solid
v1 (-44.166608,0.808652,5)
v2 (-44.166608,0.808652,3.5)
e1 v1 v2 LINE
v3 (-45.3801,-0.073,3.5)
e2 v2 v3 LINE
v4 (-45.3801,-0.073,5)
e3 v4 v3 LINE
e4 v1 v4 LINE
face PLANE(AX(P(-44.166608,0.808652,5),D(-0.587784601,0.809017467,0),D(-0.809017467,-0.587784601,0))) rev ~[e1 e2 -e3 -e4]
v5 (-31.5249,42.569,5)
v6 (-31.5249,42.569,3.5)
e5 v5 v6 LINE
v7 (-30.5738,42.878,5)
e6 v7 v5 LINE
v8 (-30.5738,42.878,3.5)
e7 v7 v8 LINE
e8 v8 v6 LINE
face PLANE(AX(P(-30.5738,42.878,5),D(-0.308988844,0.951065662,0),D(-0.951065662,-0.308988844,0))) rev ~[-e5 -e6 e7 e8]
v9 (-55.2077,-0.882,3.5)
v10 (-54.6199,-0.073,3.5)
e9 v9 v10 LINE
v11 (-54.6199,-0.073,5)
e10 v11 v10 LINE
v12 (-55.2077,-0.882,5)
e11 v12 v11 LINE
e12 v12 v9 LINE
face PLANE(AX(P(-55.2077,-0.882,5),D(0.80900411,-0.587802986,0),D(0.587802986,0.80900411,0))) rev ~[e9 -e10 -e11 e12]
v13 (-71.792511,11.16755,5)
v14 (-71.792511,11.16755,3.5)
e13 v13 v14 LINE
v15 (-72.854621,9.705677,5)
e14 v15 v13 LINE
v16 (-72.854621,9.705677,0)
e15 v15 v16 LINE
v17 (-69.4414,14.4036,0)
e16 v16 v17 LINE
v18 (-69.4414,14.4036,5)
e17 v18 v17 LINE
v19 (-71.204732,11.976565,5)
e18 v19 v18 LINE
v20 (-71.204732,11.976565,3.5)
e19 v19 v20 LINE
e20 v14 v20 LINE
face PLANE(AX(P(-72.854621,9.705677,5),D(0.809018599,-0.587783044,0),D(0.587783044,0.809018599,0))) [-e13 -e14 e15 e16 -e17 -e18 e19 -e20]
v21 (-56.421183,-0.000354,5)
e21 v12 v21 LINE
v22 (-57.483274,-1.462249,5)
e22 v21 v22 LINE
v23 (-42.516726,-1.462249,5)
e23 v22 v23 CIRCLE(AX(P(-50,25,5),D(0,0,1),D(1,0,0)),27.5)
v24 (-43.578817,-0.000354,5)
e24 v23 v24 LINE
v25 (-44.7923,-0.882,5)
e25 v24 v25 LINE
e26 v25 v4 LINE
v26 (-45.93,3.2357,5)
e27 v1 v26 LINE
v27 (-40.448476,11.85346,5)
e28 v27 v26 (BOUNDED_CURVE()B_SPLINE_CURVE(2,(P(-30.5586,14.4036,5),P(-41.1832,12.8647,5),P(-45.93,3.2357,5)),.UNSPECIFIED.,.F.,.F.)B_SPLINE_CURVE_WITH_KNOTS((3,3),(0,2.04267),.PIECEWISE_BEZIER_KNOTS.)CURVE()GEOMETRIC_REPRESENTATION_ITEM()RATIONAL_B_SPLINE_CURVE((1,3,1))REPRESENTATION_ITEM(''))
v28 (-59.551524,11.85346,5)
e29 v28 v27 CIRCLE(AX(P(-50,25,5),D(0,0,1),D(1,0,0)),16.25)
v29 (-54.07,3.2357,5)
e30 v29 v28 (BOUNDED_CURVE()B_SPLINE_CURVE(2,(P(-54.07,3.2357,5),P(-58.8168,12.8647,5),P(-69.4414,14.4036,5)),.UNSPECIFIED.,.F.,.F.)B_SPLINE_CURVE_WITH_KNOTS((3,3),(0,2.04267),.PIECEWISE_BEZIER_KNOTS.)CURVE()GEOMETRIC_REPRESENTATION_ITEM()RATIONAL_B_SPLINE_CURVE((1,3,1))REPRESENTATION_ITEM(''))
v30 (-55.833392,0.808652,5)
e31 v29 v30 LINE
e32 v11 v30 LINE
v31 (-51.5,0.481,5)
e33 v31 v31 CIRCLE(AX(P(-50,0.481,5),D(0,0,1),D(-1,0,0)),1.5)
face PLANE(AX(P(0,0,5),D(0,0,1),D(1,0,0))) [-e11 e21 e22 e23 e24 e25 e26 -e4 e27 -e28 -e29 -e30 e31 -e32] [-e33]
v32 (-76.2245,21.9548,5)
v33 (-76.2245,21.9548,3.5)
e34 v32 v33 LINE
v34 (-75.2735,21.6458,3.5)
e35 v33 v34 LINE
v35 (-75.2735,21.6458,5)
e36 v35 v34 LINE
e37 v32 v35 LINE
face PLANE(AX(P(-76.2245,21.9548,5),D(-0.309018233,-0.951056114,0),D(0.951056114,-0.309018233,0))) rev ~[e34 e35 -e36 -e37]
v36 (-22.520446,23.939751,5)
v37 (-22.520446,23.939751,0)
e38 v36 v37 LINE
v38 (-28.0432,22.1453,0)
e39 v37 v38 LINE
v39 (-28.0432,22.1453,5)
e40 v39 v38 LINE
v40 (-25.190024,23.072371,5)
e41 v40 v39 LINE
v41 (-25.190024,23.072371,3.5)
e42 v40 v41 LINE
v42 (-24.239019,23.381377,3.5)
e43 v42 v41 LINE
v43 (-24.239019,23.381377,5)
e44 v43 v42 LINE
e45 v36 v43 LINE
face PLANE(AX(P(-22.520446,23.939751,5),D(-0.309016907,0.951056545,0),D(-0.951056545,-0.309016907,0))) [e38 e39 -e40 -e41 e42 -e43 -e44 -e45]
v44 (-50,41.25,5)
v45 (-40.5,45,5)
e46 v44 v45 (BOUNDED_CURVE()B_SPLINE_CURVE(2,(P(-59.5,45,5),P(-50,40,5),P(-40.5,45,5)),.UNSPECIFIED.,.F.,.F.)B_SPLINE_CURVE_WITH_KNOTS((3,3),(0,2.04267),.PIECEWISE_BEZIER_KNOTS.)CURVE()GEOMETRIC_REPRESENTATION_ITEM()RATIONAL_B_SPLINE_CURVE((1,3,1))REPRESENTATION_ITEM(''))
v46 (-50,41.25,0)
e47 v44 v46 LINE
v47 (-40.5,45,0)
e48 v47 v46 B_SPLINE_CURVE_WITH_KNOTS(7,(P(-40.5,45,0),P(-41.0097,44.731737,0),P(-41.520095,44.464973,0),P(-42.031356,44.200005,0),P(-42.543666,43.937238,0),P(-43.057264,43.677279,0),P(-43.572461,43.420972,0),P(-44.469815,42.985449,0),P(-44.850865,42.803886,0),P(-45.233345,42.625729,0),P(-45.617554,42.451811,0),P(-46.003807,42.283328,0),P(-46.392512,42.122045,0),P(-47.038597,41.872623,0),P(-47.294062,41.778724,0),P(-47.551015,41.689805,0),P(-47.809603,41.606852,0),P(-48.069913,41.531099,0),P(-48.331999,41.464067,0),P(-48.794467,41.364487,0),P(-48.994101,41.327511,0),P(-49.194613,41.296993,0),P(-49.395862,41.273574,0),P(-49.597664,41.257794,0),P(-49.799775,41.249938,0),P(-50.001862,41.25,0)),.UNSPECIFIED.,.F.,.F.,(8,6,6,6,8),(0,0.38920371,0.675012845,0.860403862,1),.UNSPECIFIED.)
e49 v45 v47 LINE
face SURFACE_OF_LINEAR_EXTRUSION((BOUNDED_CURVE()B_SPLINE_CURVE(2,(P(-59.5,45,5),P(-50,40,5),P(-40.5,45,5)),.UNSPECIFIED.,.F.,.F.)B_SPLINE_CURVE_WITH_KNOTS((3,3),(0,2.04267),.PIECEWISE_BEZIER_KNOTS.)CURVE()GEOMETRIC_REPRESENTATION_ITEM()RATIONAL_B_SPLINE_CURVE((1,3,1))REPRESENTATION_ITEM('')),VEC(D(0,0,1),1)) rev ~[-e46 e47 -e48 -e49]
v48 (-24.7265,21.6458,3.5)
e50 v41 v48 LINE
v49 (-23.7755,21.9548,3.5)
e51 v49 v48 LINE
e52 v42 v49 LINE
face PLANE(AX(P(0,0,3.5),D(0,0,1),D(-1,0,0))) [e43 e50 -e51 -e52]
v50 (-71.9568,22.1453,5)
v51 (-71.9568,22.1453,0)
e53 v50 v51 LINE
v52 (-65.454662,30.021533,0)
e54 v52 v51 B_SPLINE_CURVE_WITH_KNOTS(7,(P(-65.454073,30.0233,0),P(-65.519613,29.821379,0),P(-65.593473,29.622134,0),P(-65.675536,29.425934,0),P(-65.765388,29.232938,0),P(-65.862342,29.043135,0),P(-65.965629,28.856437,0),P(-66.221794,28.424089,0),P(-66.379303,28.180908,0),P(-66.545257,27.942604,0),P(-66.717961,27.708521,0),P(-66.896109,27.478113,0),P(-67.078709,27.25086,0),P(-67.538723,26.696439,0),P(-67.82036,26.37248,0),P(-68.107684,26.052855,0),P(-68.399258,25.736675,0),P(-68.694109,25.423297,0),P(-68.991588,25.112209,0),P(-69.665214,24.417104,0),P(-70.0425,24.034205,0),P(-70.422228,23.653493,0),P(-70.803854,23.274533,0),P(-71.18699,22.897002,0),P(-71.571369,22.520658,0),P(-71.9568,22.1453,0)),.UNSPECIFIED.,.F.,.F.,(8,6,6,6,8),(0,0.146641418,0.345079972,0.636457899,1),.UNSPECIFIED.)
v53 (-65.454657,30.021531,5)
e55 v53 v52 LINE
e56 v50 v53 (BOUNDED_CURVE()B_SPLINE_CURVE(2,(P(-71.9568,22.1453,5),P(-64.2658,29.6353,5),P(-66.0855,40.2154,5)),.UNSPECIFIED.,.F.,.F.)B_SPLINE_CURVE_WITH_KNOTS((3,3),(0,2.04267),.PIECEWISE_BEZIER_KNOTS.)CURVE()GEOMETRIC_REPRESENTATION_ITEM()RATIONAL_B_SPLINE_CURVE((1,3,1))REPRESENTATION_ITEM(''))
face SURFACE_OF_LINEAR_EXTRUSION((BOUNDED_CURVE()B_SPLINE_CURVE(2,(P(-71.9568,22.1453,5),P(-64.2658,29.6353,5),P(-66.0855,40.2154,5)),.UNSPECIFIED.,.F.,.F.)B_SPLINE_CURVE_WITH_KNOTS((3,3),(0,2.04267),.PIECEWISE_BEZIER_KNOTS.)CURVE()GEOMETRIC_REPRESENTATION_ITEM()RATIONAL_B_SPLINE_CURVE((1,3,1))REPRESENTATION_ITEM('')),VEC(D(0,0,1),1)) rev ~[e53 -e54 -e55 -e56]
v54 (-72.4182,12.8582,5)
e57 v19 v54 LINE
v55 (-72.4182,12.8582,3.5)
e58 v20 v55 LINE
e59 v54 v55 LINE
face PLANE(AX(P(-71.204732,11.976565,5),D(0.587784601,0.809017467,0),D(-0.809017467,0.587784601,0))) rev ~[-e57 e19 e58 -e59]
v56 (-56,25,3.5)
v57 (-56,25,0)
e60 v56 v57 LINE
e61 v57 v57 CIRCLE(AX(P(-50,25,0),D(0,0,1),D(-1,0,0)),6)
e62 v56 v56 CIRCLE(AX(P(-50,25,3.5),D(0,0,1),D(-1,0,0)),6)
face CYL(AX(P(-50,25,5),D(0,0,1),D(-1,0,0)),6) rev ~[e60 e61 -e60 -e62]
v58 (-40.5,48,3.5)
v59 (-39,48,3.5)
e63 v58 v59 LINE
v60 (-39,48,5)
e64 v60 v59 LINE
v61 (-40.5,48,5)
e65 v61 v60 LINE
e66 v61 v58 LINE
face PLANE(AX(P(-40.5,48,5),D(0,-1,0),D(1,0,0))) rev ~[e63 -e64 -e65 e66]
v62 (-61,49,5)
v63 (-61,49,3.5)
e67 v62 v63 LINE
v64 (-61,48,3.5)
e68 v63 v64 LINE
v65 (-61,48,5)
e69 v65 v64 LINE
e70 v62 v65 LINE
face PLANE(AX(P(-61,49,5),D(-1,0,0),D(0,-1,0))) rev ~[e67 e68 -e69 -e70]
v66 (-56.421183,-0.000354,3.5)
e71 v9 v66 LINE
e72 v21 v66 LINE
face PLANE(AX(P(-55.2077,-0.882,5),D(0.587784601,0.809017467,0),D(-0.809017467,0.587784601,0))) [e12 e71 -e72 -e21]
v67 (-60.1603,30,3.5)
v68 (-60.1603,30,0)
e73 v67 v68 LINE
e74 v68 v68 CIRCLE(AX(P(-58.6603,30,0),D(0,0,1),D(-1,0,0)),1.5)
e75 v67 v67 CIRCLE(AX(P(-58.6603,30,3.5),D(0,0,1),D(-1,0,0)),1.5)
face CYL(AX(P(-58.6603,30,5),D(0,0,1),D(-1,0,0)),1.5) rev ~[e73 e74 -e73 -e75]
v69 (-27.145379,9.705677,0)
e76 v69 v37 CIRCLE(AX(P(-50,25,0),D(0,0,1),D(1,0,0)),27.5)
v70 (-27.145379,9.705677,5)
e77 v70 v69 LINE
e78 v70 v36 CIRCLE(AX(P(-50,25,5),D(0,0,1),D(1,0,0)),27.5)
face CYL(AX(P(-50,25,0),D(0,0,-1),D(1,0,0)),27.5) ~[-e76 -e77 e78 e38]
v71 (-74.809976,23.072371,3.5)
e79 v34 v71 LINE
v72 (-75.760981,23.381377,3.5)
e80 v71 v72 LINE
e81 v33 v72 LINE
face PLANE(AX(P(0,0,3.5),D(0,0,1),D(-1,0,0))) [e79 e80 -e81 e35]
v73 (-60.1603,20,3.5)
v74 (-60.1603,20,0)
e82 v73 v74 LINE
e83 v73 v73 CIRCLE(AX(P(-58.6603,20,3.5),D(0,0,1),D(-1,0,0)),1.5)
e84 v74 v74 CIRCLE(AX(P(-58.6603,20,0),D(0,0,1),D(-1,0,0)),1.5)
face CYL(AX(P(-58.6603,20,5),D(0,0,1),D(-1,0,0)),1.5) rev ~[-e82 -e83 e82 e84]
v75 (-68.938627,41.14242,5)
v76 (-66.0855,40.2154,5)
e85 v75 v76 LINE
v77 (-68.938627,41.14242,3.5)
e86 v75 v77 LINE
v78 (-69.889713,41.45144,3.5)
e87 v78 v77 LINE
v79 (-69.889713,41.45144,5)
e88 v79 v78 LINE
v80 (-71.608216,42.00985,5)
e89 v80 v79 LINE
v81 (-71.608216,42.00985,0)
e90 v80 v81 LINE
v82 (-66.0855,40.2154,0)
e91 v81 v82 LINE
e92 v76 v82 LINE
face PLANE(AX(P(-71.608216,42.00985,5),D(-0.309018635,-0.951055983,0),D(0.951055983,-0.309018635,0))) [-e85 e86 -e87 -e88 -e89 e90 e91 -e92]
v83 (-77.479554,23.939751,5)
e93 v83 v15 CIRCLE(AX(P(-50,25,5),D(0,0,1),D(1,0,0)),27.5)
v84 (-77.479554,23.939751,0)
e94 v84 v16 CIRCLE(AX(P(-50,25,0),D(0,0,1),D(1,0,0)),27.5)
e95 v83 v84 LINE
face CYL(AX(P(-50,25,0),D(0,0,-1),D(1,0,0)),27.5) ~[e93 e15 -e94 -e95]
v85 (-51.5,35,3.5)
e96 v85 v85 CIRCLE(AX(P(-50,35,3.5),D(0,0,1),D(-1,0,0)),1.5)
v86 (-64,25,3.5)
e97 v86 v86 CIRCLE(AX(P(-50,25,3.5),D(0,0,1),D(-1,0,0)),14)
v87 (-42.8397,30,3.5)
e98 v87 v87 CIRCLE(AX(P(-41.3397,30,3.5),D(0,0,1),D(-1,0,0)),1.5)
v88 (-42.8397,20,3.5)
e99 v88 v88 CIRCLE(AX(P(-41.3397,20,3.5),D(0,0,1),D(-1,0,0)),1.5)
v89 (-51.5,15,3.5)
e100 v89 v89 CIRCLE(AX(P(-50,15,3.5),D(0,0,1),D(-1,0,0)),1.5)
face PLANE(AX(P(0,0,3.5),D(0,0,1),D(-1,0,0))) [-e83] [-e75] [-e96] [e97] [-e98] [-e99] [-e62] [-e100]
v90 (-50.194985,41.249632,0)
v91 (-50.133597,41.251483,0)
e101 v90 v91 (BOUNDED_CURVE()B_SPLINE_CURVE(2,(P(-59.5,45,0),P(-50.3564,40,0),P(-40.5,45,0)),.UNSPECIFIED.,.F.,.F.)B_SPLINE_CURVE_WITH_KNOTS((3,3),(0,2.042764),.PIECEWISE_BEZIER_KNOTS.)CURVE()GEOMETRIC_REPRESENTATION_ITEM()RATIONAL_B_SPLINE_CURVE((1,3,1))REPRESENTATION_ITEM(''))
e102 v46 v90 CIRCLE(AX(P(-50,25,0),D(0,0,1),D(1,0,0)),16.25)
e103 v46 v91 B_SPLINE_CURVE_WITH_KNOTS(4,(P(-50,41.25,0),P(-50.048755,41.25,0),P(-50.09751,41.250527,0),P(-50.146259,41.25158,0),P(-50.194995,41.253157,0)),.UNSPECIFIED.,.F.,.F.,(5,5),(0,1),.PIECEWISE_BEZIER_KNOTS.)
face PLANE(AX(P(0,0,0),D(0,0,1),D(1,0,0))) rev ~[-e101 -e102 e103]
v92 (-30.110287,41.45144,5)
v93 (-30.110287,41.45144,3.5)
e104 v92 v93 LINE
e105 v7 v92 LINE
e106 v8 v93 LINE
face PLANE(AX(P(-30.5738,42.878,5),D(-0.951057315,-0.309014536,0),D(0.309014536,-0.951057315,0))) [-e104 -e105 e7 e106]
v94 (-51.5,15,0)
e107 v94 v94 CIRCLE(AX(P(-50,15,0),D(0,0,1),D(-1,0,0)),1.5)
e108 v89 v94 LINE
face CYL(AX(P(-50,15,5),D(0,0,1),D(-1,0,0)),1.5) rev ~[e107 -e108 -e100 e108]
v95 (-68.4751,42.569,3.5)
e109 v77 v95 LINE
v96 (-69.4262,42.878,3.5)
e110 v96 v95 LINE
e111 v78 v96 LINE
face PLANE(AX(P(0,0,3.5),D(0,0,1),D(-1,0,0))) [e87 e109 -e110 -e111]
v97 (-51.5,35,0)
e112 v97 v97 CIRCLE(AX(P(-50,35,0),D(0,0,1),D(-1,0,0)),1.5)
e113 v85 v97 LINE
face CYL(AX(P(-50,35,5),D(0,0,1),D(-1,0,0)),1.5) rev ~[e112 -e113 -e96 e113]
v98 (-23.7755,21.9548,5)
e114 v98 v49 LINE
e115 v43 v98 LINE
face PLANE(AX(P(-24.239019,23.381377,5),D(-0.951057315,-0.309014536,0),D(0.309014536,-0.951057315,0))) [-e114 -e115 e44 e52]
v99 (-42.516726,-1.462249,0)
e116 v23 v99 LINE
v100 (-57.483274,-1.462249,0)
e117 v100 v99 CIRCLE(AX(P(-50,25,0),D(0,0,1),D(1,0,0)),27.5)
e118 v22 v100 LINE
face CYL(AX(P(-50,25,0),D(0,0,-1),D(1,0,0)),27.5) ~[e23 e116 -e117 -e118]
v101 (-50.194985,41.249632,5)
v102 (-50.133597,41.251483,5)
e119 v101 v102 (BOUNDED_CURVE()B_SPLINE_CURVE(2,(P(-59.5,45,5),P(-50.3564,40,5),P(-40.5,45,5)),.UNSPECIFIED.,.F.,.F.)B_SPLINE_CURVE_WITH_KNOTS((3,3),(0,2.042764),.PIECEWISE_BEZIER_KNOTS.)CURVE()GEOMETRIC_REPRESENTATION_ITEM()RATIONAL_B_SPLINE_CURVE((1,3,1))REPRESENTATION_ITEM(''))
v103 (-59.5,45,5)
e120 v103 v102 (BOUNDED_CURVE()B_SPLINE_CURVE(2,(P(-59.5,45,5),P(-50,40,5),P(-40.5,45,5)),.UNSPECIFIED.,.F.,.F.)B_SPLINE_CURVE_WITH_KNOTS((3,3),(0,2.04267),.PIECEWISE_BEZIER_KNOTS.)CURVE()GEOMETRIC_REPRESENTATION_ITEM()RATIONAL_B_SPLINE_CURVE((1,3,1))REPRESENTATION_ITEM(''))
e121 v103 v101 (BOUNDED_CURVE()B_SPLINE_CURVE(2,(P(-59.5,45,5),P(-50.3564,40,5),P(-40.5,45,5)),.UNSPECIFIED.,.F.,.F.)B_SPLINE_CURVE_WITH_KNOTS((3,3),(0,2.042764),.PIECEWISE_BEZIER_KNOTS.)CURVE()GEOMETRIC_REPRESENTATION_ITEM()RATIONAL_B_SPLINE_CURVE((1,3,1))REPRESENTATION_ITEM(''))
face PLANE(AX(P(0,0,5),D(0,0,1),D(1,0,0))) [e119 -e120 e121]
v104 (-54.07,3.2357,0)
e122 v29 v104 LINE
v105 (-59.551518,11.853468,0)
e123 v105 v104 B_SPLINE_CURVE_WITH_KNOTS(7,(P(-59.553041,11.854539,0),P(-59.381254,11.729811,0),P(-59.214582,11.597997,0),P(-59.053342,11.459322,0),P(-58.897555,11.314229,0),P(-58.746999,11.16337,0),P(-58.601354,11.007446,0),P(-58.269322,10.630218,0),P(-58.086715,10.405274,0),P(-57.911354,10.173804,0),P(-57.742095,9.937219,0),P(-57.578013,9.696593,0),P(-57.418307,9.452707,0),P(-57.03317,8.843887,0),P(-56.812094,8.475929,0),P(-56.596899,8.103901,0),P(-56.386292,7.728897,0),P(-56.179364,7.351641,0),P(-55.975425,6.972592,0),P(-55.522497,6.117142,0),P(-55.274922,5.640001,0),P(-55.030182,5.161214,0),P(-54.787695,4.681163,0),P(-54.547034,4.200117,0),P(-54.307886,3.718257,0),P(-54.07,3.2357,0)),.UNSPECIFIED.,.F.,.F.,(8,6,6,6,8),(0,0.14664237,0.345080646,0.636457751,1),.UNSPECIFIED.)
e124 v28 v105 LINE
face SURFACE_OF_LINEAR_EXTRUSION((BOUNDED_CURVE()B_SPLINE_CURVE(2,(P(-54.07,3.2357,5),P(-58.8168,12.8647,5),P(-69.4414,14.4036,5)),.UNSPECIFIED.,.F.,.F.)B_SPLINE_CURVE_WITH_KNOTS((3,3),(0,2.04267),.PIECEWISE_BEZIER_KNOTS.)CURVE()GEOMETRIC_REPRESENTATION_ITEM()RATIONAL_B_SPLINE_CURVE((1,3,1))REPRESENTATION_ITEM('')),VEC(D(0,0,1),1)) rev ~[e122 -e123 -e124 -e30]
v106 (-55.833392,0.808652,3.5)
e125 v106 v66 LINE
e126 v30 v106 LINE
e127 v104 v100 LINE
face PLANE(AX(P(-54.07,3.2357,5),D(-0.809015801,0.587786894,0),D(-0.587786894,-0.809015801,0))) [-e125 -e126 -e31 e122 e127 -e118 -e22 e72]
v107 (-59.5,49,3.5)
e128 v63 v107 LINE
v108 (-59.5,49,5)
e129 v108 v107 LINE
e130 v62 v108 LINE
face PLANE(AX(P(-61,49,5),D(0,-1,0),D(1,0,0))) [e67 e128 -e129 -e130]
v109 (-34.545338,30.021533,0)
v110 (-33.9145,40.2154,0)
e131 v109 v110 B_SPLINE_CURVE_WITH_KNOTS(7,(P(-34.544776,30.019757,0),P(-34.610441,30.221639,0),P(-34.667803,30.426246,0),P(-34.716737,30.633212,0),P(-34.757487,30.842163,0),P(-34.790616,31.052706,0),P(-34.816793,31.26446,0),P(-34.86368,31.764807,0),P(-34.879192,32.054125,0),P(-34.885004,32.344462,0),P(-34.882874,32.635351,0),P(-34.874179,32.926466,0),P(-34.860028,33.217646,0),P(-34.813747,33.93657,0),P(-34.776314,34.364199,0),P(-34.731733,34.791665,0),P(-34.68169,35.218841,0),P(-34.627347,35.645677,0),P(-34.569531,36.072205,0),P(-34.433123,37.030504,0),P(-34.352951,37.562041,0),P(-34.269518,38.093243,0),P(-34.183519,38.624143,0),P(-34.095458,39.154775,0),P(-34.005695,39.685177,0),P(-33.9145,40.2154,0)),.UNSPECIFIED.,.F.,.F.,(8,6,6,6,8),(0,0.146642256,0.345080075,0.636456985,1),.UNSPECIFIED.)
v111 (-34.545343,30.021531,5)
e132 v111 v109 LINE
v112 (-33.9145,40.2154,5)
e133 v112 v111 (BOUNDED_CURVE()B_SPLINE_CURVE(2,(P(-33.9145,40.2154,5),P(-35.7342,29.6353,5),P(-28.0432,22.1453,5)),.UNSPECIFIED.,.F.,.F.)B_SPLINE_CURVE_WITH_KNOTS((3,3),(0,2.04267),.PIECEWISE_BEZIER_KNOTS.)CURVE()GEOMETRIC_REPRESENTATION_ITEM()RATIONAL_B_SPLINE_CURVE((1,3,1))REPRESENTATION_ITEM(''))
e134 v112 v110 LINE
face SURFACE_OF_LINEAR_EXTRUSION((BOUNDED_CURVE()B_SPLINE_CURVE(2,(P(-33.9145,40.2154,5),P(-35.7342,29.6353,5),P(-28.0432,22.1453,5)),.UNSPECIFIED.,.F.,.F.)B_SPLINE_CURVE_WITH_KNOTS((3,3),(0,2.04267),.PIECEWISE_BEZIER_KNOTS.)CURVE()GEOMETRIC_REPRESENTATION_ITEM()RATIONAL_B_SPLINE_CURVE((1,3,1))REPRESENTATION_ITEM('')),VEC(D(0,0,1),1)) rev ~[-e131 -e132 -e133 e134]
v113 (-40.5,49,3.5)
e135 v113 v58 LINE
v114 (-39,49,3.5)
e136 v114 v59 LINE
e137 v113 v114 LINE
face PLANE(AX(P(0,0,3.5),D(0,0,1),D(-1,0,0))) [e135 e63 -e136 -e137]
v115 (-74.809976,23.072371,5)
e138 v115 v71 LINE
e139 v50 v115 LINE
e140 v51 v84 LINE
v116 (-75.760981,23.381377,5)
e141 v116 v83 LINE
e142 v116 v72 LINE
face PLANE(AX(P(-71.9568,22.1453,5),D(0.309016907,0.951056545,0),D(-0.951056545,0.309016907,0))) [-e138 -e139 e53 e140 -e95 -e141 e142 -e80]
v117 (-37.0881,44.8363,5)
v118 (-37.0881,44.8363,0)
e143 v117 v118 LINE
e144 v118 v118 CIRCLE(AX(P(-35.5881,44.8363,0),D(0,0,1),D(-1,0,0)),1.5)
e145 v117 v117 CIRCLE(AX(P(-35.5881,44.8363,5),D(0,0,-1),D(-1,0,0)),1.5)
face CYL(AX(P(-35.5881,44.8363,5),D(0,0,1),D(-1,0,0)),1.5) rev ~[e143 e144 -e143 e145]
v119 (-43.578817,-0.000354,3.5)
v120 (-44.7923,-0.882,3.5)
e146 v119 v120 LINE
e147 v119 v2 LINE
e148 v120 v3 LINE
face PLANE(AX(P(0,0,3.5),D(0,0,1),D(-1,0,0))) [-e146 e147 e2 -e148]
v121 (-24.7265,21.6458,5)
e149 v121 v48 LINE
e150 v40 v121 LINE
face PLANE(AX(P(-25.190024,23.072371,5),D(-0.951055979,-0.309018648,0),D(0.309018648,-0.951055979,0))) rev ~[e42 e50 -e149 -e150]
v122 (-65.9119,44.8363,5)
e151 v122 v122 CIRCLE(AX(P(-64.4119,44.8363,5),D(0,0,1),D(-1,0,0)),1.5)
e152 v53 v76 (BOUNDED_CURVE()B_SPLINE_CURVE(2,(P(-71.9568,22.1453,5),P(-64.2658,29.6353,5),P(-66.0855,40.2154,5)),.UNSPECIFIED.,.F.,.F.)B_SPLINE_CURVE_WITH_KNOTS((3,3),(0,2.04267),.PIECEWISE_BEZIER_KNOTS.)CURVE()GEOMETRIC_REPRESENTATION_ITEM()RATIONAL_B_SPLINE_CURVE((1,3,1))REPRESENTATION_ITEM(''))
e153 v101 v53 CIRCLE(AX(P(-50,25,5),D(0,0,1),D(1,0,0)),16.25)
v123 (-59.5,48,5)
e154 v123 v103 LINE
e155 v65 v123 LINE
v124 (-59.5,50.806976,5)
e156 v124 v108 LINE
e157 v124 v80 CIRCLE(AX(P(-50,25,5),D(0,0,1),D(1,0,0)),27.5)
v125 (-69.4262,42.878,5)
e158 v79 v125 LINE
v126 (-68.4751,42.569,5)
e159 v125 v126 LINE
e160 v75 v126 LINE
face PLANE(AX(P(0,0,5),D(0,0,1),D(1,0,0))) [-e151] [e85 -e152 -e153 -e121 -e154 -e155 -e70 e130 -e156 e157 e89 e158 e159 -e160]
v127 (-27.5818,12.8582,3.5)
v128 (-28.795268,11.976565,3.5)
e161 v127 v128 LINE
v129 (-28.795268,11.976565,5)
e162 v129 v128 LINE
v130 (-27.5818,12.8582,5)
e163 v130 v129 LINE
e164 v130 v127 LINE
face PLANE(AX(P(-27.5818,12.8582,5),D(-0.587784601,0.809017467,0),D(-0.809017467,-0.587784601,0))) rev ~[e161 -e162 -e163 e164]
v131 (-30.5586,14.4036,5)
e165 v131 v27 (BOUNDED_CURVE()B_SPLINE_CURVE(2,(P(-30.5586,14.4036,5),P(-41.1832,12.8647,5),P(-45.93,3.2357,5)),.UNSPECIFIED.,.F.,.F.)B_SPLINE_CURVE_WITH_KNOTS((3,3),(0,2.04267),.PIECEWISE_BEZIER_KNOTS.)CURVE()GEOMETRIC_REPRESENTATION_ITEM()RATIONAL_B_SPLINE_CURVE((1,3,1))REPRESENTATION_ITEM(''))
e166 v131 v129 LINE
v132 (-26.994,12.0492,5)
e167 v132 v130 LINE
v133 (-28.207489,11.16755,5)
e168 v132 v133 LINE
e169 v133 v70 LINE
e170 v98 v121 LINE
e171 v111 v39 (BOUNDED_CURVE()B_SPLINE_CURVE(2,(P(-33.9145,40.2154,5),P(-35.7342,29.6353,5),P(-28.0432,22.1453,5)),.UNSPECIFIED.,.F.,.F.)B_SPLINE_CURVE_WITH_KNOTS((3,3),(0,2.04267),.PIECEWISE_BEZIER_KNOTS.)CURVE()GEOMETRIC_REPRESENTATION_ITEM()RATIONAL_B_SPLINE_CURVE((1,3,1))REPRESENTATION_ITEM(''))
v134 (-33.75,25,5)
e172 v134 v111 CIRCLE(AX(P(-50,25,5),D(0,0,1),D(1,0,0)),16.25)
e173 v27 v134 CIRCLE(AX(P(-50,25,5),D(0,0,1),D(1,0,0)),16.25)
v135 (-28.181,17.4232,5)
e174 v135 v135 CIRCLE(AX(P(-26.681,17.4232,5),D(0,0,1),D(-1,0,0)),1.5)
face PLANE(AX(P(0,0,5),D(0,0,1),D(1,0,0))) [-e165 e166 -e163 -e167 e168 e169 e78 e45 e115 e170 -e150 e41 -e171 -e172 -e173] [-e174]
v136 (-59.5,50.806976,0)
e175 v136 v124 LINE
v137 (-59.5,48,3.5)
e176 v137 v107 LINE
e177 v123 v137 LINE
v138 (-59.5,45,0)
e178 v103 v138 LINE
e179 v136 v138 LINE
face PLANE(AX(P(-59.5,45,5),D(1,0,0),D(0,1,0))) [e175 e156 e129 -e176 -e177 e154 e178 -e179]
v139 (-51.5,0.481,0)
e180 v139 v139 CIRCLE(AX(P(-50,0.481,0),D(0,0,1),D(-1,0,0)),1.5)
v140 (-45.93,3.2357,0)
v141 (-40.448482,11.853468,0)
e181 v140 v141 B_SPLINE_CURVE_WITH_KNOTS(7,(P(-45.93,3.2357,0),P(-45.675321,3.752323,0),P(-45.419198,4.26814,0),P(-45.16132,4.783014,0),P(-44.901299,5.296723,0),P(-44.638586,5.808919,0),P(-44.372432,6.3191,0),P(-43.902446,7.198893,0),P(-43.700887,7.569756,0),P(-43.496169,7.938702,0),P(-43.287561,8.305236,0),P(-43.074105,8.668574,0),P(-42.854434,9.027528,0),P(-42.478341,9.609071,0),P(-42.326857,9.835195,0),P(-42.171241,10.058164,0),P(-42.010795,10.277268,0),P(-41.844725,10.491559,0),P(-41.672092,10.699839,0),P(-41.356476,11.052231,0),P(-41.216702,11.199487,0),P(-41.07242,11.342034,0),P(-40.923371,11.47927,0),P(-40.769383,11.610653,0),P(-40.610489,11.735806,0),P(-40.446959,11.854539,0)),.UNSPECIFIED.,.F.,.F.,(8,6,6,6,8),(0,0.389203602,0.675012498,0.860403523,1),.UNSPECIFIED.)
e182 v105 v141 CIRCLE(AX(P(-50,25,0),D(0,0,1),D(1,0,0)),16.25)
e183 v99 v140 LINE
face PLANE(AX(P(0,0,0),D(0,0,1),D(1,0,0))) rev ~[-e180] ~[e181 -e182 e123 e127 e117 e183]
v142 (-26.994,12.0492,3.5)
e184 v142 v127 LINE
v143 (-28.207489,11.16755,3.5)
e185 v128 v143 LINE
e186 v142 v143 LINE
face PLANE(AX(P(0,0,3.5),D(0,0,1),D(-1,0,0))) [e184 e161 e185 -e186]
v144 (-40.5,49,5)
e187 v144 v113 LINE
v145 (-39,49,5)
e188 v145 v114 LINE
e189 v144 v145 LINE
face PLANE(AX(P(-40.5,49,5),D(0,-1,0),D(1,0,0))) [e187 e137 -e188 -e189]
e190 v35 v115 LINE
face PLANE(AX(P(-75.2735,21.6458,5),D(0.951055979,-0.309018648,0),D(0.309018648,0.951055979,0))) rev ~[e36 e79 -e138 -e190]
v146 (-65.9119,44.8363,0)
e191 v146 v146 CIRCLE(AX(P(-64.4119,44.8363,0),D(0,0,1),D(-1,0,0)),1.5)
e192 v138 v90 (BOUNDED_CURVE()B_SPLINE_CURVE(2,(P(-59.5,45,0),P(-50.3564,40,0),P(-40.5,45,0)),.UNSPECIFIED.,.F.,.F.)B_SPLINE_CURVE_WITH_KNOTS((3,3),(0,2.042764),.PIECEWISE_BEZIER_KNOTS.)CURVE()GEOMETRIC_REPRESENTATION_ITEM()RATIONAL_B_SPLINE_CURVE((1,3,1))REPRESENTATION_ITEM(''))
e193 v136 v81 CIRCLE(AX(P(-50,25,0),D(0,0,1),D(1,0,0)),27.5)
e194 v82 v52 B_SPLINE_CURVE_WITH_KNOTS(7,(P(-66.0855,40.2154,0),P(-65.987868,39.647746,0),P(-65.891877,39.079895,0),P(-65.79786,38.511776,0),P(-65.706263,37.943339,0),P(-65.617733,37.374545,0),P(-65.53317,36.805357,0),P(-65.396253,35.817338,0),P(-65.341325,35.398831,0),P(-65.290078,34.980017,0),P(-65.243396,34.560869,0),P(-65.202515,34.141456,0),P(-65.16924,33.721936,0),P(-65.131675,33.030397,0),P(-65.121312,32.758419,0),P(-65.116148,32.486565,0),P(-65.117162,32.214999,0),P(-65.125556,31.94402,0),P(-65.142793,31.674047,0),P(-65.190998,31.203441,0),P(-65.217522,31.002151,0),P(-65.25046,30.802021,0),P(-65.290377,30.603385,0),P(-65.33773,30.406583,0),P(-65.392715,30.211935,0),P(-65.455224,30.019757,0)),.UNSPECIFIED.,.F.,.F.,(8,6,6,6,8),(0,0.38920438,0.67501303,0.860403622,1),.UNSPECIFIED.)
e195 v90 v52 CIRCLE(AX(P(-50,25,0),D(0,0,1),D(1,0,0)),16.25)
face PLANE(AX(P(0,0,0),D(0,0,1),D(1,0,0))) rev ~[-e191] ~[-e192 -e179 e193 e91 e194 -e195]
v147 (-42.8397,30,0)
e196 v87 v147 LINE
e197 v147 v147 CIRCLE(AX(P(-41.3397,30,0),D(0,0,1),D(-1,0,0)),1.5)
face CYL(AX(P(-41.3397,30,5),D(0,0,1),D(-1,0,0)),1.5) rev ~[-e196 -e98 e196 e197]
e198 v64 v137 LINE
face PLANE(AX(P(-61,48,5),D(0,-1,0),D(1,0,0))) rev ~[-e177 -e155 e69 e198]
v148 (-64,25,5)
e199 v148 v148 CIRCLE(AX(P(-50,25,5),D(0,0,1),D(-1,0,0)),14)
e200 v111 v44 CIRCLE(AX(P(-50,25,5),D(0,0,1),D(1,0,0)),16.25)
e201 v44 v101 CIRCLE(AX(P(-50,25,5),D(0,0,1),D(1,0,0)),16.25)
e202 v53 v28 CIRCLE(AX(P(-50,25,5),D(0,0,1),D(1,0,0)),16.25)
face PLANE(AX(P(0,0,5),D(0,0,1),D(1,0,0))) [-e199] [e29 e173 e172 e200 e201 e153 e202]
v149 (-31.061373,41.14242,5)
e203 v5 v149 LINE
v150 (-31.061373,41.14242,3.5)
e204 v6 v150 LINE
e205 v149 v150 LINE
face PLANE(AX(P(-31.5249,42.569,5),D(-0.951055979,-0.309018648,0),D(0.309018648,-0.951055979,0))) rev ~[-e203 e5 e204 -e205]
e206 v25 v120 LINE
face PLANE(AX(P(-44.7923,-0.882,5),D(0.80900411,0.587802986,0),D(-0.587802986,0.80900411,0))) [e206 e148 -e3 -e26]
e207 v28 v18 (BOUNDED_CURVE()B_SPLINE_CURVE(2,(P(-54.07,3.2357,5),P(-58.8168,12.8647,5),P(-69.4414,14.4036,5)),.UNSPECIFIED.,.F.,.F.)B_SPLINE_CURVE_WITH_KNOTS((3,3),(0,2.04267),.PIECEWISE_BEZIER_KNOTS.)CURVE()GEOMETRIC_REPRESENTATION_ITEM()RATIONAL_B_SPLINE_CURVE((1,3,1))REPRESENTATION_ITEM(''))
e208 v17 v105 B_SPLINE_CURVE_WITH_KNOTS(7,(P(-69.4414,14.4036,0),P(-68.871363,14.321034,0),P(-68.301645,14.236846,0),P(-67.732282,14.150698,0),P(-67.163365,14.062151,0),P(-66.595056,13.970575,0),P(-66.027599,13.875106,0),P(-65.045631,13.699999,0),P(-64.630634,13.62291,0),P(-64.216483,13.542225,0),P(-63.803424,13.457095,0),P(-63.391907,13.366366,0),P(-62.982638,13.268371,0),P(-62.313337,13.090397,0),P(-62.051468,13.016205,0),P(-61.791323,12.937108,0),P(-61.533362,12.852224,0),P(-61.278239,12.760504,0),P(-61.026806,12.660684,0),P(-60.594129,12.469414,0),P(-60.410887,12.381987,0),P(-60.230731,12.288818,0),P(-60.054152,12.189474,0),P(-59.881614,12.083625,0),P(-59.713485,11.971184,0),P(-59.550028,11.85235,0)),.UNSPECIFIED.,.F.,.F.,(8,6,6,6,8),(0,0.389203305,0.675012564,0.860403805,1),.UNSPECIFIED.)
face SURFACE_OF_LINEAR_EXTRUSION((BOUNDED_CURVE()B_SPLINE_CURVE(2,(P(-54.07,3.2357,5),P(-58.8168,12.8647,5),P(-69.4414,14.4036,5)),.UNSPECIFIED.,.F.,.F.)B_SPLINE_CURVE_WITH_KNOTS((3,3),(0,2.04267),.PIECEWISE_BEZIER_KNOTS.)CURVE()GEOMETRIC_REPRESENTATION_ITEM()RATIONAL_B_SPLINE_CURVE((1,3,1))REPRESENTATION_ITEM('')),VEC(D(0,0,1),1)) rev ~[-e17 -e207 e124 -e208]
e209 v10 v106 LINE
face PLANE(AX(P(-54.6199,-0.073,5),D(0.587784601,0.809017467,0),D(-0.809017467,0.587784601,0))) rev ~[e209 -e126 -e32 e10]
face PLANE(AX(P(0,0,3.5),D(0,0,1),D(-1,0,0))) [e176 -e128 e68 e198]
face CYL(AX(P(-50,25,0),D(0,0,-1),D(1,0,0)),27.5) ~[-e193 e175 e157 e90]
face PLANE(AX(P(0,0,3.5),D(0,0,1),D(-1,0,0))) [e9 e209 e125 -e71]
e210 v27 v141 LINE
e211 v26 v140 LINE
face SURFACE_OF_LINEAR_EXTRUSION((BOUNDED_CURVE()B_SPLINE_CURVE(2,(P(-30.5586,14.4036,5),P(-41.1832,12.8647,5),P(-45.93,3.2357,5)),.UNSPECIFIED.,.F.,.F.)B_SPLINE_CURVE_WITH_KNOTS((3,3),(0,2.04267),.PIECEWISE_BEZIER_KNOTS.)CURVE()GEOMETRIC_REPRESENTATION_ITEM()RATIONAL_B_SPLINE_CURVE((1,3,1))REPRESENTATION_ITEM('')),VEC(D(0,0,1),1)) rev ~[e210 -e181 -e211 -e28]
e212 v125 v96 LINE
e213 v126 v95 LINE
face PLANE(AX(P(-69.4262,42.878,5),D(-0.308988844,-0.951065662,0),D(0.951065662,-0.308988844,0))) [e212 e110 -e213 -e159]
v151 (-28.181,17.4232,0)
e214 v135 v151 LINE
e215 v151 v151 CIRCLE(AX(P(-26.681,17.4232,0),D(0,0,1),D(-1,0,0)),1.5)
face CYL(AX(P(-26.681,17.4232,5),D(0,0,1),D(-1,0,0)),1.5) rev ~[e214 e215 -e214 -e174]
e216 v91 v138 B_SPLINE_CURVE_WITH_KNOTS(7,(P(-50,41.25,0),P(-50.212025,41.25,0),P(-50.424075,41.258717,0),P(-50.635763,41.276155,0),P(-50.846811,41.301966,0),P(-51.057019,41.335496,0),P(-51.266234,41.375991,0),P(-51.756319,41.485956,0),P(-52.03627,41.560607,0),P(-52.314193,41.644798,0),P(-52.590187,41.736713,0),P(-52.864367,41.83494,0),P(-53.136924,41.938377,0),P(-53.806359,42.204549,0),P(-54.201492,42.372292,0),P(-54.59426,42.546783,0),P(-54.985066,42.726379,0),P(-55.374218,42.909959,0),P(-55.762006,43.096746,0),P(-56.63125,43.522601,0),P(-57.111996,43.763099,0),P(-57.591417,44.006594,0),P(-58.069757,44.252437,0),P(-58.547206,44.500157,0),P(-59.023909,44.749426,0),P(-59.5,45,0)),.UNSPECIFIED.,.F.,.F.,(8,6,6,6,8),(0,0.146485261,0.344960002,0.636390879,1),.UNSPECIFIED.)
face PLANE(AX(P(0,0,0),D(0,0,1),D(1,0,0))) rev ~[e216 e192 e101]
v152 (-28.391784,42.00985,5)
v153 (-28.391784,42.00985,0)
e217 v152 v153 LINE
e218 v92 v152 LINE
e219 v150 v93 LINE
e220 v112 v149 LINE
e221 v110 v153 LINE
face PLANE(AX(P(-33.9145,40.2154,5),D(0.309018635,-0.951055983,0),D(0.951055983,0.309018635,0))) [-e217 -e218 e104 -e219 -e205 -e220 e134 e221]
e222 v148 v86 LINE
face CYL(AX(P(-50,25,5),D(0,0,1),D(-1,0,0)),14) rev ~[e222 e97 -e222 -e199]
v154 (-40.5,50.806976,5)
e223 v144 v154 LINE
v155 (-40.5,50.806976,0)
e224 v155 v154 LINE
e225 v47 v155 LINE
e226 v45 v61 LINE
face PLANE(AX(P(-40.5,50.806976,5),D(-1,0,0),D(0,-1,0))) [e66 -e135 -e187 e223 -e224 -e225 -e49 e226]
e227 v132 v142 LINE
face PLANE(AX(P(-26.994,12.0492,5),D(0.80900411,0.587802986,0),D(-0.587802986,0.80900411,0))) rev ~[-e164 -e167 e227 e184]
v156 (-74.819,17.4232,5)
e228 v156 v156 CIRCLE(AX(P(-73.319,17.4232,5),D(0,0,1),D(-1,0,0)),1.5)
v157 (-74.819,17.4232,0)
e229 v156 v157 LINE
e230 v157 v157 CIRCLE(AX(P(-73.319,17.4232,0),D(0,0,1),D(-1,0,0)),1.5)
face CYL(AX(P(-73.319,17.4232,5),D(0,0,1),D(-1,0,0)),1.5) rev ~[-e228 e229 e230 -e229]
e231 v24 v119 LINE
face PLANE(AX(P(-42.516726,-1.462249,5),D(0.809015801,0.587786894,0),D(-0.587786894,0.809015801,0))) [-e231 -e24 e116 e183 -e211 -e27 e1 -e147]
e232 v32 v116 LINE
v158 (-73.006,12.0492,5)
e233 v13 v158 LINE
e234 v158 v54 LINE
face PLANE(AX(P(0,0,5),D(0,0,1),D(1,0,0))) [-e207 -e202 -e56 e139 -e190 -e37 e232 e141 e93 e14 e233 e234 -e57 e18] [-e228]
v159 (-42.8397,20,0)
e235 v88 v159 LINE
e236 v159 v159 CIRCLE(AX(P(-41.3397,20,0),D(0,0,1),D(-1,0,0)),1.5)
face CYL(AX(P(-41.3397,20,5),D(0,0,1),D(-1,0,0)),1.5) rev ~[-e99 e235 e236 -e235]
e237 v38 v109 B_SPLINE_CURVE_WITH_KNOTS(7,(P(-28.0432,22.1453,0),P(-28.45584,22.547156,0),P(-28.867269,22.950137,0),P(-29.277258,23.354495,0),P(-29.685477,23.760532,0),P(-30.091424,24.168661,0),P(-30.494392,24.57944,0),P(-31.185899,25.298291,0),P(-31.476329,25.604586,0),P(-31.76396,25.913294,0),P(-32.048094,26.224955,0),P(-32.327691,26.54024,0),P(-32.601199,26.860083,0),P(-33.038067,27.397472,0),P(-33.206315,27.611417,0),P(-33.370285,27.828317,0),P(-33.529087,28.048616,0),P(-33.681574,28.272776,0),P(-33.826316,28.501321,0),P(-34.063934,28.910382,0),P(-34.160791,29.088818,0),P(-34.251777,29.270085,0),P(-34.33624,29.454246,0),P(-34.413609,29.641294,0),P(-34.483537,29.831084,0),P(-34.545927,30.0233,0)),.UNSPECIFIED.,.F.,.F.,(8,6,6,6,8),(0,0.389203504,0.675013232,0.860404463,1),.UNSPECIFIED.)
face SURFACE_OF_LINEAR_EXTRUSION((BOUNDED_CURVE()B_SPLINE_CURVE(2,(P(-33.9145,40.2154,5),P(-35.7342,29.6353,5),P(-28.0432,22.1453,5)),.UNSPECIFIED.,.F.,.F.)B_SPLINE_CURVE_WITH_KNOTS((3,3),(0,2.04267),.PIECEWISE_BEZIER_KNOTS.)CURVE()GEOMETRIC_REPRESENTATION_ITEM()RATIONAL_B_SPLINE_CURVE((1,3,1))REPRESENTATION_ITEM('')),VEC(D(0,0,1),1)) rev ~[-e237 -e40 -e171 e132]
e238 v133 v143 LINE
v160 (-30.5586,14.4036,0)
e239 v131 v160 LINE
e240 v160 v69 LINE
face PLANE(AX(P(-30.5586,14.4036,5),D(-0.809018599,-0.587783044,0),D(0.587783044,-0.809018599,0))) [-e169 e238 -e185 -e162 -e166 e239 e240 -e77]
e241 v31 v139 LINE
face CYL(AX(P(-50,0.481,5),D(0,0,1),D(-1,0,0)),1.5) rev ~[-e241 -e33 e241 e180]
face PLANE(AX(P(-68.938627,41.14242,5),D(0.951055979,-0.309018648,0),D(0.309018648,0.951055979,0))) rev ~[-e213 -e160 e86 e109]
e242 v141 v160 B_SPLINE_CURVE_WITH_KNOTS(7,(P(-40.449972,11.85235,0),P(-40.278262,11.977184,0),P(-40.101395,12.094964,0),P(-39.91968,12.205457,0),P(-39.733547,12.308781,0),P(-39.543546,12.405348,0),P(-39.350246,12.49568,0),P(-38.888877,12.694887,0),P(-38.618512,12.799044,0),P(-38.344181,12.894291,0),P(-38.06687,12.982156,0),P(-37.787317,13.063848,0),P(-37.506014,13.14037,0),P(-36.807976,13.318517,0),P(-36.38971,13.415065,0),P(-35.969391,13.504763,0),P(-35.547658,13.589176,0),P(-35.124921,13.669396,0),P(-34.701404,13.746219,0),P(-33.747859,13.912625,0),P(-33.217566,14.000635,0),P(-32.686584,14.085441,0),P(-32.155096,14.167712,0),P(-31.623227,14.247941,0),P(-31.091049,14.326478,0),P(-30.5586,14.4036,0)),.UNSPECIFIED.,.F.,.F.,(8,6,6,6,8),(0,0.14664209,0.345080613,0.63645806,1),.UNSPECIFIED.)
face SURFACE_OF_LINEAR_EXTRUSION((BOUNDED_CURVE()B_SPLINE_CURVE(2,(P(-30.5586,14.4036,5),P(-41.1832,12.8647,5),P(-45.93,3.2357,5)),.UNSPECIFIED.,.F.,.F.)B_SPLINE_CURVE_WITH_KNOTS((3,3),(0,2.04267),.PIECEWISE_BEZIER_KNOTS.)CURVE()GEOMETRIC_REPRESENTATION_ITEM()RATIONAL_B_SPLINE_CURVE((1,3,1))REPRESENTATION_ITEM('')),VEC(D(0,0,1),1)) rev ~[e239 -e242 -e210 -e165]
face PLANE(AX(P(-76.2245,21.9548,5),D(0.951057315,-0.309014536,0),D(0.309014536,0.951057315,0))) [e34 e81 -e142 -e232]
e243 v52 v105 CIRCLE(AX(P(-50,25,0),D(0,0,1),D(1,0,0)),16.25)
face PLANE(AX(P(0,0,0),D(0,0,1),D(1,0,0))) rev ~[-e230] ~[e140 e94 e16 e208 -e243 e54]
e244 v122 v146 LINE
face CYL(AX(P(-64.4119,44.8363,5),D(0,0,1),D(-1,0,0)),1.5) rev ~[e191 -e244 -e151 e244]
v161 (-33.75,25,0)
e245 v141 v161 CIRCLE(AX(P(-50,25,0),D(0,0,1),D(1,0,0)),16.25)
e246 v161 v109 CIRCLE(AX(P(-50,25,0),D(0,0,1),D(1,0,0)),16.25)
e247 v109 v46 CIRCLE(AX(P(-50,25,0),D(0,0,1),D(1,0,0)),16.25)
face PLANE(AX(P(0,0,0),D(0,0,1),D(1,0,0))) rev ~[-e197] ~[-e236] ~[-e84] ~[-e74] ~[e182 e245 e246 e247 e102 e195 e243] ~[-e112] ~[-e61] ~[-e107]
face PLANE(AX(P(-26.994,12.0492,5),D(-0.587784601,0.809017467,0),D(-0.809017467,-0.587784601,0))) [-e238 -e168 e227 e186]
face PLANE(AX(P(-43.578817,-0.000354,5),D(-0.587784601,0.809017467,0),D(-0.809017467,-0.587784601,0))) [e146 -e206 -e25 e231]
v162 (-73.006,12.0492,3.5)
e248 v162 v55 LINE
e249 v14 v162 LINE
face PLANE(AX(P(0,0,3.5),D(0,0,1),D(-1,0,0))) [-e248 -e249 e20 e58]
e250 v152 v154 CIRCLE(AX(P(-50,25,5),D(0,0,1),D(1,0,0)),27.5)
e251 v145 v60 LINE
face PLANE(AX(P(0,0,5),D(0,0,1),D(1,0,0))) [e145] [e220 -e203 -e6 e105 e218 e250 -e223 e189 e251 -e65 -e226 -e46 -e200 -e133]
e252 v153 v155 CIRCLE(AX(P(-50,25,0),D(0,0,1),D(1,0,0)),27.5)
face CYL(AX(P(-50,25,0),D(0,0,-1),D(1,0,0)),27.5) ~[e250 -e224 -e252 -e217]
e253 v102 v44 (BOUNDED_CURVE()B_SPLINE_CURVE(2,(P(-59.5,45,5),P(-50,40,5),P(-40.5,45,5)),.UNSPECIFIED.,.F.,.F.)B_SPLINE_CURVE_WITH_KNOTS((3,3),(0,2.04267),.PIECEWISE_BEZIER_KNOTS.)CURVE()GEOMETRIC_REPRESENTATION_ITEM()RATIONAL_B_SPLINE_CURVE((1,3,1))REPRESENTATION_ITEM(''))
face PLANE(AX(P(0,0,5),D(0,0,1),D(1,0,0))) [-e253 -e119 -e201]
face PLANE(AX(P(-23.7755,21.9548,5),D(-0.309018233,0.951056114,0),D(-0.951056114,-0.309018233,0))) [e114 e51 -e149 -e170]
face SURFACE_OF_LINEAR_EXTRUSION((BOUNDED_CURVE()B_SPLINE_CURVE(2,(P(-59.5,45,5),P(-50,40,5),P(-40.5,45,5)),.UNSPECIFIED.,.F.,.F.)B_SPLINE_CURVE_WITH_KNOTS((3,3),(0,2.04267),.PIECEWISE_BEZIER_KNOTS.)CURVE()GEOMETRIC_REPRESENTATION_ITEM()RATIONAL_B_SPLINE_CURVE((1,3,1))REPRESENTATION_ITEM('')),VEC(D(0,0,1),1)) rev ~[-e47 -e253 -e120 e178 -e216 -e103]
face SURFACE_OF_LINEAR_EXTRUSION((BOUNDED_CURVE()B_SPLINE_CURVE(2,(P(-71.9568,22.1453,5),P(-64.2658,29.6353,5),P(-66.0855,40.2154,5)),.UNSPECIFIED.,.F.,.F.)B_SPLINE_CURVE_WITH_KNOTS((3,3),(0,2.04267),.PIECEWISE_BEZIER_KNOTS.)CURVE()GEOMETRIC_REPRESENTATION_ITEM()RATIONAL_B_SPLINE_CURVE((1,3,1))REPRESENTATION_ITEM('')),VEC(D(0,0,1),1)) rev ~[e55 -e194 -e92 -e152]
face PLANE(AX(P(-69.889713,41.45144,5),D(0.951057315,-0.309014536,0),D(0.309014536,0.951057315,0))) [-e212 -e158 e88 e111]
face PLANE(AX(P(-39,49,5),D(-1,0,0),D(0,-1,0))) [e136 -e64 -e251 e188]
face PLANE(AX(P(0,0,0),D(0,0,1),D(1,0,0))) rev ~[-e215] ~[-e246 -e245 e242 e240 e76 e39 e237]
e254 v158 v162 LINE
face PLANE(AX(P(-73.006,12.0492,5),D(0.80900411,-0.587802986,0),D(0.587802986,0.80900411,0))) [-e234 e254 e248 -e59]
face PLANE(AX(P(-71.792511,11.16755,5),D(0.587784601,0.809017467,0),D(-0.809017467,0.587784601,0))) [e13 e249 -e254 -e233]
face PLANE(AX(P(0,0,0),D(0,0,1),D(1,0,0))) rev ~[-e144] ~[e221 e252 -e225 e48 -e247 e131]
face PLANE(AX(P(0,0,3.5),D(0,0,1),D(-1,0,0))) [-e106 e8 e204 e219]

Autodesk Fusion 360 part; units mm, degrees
sketch "Sketch3" plane through (0, 0, 0) normal (0, 0, 1) x (1, 0, 0)
  circle A0 centre (-50, 25) radius 27.5
  line L0 (-40.5, 45) -> (-40.5, 60)
  line L1 (-59.5, 60) -> (-59.5, 45)
  line L2 (-50, 25) -> (-50, 55)
  circle A1 centre (-50, 25) radius 16.25
  spline S0 degree 2 poles (-59.5, 45) (-50.3564, 40) (-40.5, 45) knots 0 0 0 2.042764 2.042764 2.042764 weights 1 3 1
  dimension "d9" = 55
  dimension "d10" = 32.5
extrude "Extrude3" add sketch "Sketch3" along normal blind 5
sketch "Sketch4" plane through (0, 0, 5) normal (0, 0, 1) x (-1, 0, 0)
  circle A0 centre (50, -25) radius 27.5
  line L0 (50, -25) -> (50, -61)
  line L1 (59.5, -45) -> (59.5, -62)
  line L2 (40.5, -62) -> (40.5, -45)
  circle A1 centre (50, -25) radius 16.25
  spline S0 degree 2 poles (59.5, -45) (50, -40) (40.5, -45) knots 0 0 0 2.04267 2.04267 2.04267 weights 1 3 1
  line L3 (82.2534, -45.4687) -> (66.0855, -40.2154)
  spline S1 degree 2 poles (71.9568, -22.1453) (64.2658, -29.6353) (66.0855, -40.2154) knots 0 0 0 2.04267 2.04267 2.04267 weights 1 3 1
  line L4 (71.9568, -22.1453) -> (88.1248, -27.3986)
  line L5 (50, -25) -> (84.238, -36.1246)
  line L6 (79.4337, -0.6503) -> (69.4414, -14.4036)
  spline S2 degree 2 poles (54.07, -3.2357) (58.8168, -12.8647) (69.4414, -14.4036) knots 0 0 0 2.04267 2.04267 2.04267 weights 1 3 1
  line L7 (54.07, -3.2357) -> (64.0624, 10.5176)
  line L8 (50, -25) -> (71.1603, 4.1246)
  line L9 (35.9376, 10.5176) -> (45.93, -3.2357)
  spline S3 degree 2 poles (30.5586, -14.4036) (41.1832, -12.8647) (45.93, -3.2357) knots 0 0 0 2.04267 2.04267 2.04267 weights 1 3 1
  line L10 (30.5586, -14.4036) -> (20.5663, -0.6503)
  line L11 (50, -25) -> (28.8397, 4.1246)
  line L12 (11.8752, -27.3986) -> (28.0432, -22.1453)
  spline S4 degree 2 poles (33.9145, -40.2154) (35.7342, -29.6353) (28.0432, -22.1453) knots 0 0 0 2.04267 2.04267 2.04267 weights 1 3 1
  line L13 (33.9145, -40.2154) -> (17.7466, -45.4687)
  line L14 (50, -25) -> (15.762, -36.1246)
  dimension "d14" = 32.5
  dimension "d21" = 360
extrude "Extrude4" cut sketch "Sketch4" against normal blind 30 contours A0 S1 L4 L5 | A0 L3 S1 L5 | A0 L6 S2 L8 | A0 S2 L7 L8 | A0 L0 L1 S0 | A0 L0 L2 S0 | A0 L12 S4 L14 | A0 S4 L13 L14 | A0 L9 S3 L11 | A0 S3 L10 L11
sketch "Sketch5" plane through (0, 0, 5) normal (0, 0, 1) x (-1, 0, 0)
  line L0 (71.9568, -22.1453) -> (77.4796, -23.9398)
  arc A0 (77.4796, -23.9398) -> (72.8546, -9.7057) centre (50, -25) ccw
  line L1 (72.8546, -9.7057) -> (69.4414, -14.4036)
  spline S0 degree 2 poles (69.4414, -14.4036) (58.8168, -12.8647) (54.07, -3.2357) knots -2.04267 -2.04267 -2.04267 0 0 0 weights 1 3 1
  line L2 (54.07, -3.2357) -> (57.4833, 1.4622)
  arc A1 (57.4833, 1.4622) -> (42.5167, 1.4622) centre (50, -25) ccw
  line L3 (42.5167, 1.4622) -> (45.93, -3.2357)
  spline S1 degree 2 poles (45.93, -3.2357) (41.1832, -12.8647) (30.5586, -14.4036) knots -2.04267 -2.04267 -2.04267 0 0 0 weights 1 3 1
  line L4 (30.5586, -14.4036) -> (27.1454, -9.7057)
  arc A2 (27.1454, -9.7057) -> (22.5204, -23.9398) centre (50, -25) ccw
  line L5 (22.5204, -23.9398) -> (28.0432, -22.1453)
  spline S2 degree 2 poles (28.0432, -22.1453) (35.7342, -29.6353) (33.9145, -40.2154) knots -2.04267 -2.04267 -2.04267 0 0 0 weights 1 3 1
  line L6 (33.9145, -40.2154) -> (28.3918, -42.0098)
  arc A3 (28.3918, -42.0098) -> (40.5, -50.807) centre (50, -25) ccw
  line L7 (40.5, -50.807) -> (40.5, -45)
  spline S3 degree 2 poles (40.5, -45) (50, -40) (59.5, -45) knots -2.04267 -2.04267 -2.04267 0 0 0 weights 1 3 1
  line L8 (59.5, -45) -> (59.5, -50.807)
  arc A4 (59.5, -50.807) -> (71.6082, -42.0098) centre (50, -25) ccw
  line L9 (71.6082, -42.0098) -> (66.0855, -40.2154)
  spline S4 degree 2 poles (66.0855, -40.2154) (64.2658, -29.6353) (71.9568, -22.1453) knots -2.04267 -2.04267 -2.04267 0 0 0 weights 1 3 1
  circle A5 centre (50, -25) radius 10
  circle A6 centre (50, -35) radius 1.5
  circle A7 centre (58.6603, -30) radius 1.5
  circle A8 centre (58.6603, -20) radius 1.5
  circle A9 centre (50, -15) radius 1.5
  circle A10 centre (41.3397, -20) radius 1.5
  circle A11 centre (41.3397, -30) radius 1.5
  circle A12 centre (50, -25) radius 6
  line L10 (50, -25) -> (33.8359, -47.248)
  circle A13 centre (35.5881, -44.8363) radius 1.5
  circle A14 centre (64.4119, -44.8363) radius 1.5
  circle A15 centre (73.319, -17.4232) radius 1.5
  circle A16 centre (50, -0.481) radius 1.5
  circle A17 centre (26.681, -17.4232) radius 1.5
  dimension "d24" = 20
  dimension "d25" = 3
  dimension "d27" = 360
  dimension "d28" = 3
  dimension "d30" = 360
extrude "Extrude5" cut sketch "Sketch5" against normal blind 5 contours A5 A8 | A5 A8 | A5 A7 | A5 A7 | A5 A9 | A5 A9 | A5 A6 | A5 A6 | A5 A10 | A5 A10 | A5 A11 | A5 A11 | A12 | L10 A13 | L10 A13 | A14 | A15 | A16 | A17
sketch "Sketch6" plane through (0, 0, 5) normal (0, 0, 1) x (-1, 0, 0)
  line L0 (71.9568, -22.1453) -> (77.4796, -23.9398)
  arc A0 (77.4796, -23.9398) -> (72.8546, -9.7057) centre (50, -25) ccw
  line L1 (72.8546, -9.7057) -> (69.4414, -14.4036)
  spline S0 degree 2 poles (69.4414, -14.4036) (58.8168, -12.8647) (54.07, -3.2357) knots -2.04267 -2.04267 -2.04267 0 0 0 weights 1 3 1
  line L2 (54.07, -3.2357) -> (57.4833, 1.4622)
  arc A1 (57.4833, 1.4622) -> (42.5167, 1.4622) centre (50, -25) ccw
  line L3 (42.5167, 1.4622) -> (45.93, -3.2357)
  spline S1 degree 2 poles (45.93, -3.2357) (41.1832, -12.8647) (30.5586, -14.4036) knots -2.04267 -2.04267 -2.04267 0 0 0 weights 1 3 1
  line L4 (30.5586, -14.4036) -> (27.1454, -9.7057)
  arc A2 (27.1454, -9.7057) -> (22.5204, -23.9398) centre (50, -25) ccw
  line L5 (22.5204, -23.9398) -> (28.0432, -22.1453)
  spline S2 degree 2 poles (28.0432, -22.1453) (35.7342, -29.6353) (33.9145, -40.2154) knots -2.04267 -2.04267 -2.04267 0 0 0 weights 1 3 1
  line L6 (33.9145, -40.2154) -> (28.3918, -42.0098)
  arc A3 (28.3918, -42.0098) -> (40.5, -50.807) centre (50, -25) ccw
  line L7 (40.5, -50.807) -> (40.5, -45)
  spline S3 degree 2 poles (40.5, -45) (50, -40) (59.5, -45) knots -2.04267 -2.04267 -2.04267 0 0 0 weights 1 3 1
  line L8 (59.5, -45) -> (59.5, -50.807)
  arc A4 (59.5, -50.807) -> (71.6082, -42.0098) centre (50, -25) ccw
  line L9 (71.6082, -42.0098) -> (66.0855, -40.2154)
  spline S4 degree 2 poles (66.0855, -40.2154) (64.2658, -29.6353) (71.9568, -22.1453) knots -2.04267 -2.04267 -2.04267 0 0 0 weights 1 3 1
  circle A5 centre (50, -0.481) radius 1.5
  circle A6 centre (35.5881, -44.8363) radius 1.5
  circle A7 centre (58.6603, -30) radius 1.5
  circle A8 centre (50, -25) radius 6
  circle A9 centre (58.6603, -20) radius 1.5
  circle A10 centre (64.4119, -44.8363) radius 1.5
  circle A11 centre (26.681, -17.4232) radius 1.5
  circle A12 centre (41.3397, -20) radius 1.5
  circle A13 centre (50, -35) radius 1.5
  circle A14 centre (41.3397, -30) radius 1.5
  circle A15 centre (50, -15) radius 1.5
  circle A16 centre (73.319, -17.4232) radius 1.5
  circle A17 centre (50, -25) radius 14
  dimension "d33" = 28
extrude "Extrude6" cut sketch "Sketch6" against normal blind 1.5 contours A17
sketch "Sketch7" plane through (0, 0, 5) normal (0, 0, 1) x (-1, 0, 0)
  circle A0 centre (73.319, -17.4232) radius 1.5
  circle A1 centre (26.681, -17.4232) radius 1.5
  circle A2 centre (64.4119, -44.8363) radius 1.5
  circle A3 centre (35.5881, -44.8363) radius 1.5
  circle A4 centre (50, -0.481) radius 1.5
  line L0 (71.9568, -22.1453) -> (77.4796, -23.9398)
  arc A5 (77.4796, -23.9398) -> (72.8546, -9.7057) centre (50, -25) ccw
  line L1 (72.8546, -9.7057) -> (69.4414, -14.4036)
  spline S0 degree 2 poles (69.4414, -14.4036) (58.8168, -12.8647) (54.07, -3.2357) knots -2.04267 -2.04267 -2.04267 0 0 0 weights 1 3 1
  line L2 (54.07, -3.2357) -> (57.4833, 1.4622)
  arc A6 (57.4833, 1.4622) -> (42.5167, 1.4622) centre (50, -25) ccw
  line L3 (42.5167, 1.4622) -> (45.93, -3.2357)
  spline S1 degree 2 poles (45.93, -3.2357) (41.1832, -12.8647) (30.5586, -14.4036) knots -2.04267 -2.04267 -2.04267 0 0 0 weights 1 3 1
  line L4 (30.5586, -14.4036) -> (27.1454, -9.7057)
  arc A7 (27.1454, -9.7057) -> (22.5204, -23.9398) centre (50, -25) ccw
  line L5 (22.5204, -23.9398) -> (28.0432, -22.1453)
  spline S2 degree 2 poles (28.0432, -22.1453) (35.7342, -29.6353) (33.9145, -40.2154) knots -2.04267 -2.04267 -2.04267 0 0 0 weights 1 3 1
  line L6 (33.9145, -40.2154) -> (28.3918, -42.0098)
  arc A8 (28.3918, -42.0098) -> (40.5, -50.807) centre (50, -25) ccw
  line L7 (40.5, -50.807) -> (40.5, -45)
  spline S3 degree 2 poles (40.5, -45) (50, -40) (59.5, -45) knots -2.04267 -2.04267 -2.04267 0 0 0 weights 1 3 1
  line L8 (59.5, -45) -> (59.5, -50.807)
  arc A9 (59.5, -50.807) -> (71.6082, -42.0098) centre (50, -25) ccw
  line L9 (71.6082, -42.0098) -> (66.0855, -40.2154)
  spline S4 degree 2 poles (66.0855, -40.2154) (64.2658, -29.6353) (71.9568, -22.1453) knots -2.04267 -2.04267 -2.04267 0 0 0 weights 1 3 1
  circle A10 centre (50, -25) radius 14
  line L10 (61, -48) -> (39, -48)
  line L11 (50, -25) -> (50, -48)
  line L12 (61, -49) -> (39, -49)
  line L13 (39, -49) -> (39, -48)
  line L14 (61, -49) -> (61, -48)
  line L15 (75.2735, -21.6458) -> (68.4751, -42.569)
  line L16 (76.2245, -21.9548) -> (75.2735, -21.6458)
  line L17 (76.2245, -21.9548) -> (69.4262, -42.878)
  line L18 (69.4262, -42.878) -> (68.4751, -42.569)
  line L19 (54.6199, 0.073) -> (72.4182, -12.8582)
  line L20 (55.2077, 0.882) -> (54.6199, 0.073)
  line L21 (55.2077, 0.882) -> (73.006, -12.0492)
  line L22 (73.006, -12.0492) -> (72.4182, -12.8582)
  line L23 (27.5818, -12.8582) -> (45.3801, 0.073)
  line L24 (26.994, -12.0492) -> (27.5818, -12.8582)
  line L25 (26.994, -12.0492) -> (44.7923, 0.882)
  line L26 (44.7923, 0.882) -> (45.3801, 0.073)
  line L27 (31.5249, -42.569) -> (24.7265, -21.6458)
  line L28 (30.5738, -42.878) -> (31.5249, -42.569)
  line L29 (30.5738, -42.878) -> (23.7755, -21.9548)
  line L30 (23.7755, -21.9548) -> (24.7265, -21.6458)
  dimension "d37" = 360
extrude "Extrude7" cut sketch "Sketch7" against normal blind 1.5 contours L0 L15 L16 L17 | L9 L15 L17 L18 | L1 L19 L21 L22 | L2 L19 L20 L21 | L8 L10 L12 L14 | L7 L10 L12 L13 | L3 L23 L25 L26 | L4 L23 L24 L25 | L6 L27 L28 L29 | L5 L27 L29 L30
sketch "Sketch1" plane through (0, 0, 0) normal (0, 0, 1) x (1, 0, 0)
  circle A0 centre (-75, 50) radius 40
extrude "Extrude1" [suppressed]
sketch "Sketch2" plane through (0, 0, 40) normal (0, 0, 1) x (-1, 0, 0)
  circle A0 centre (75, -50) radius 40
  circle A1 centre (75, -50) radius 30
  line L0 (75, -50) -> (56.4216, -73.5551)
  line L1 (75, -50) -> (93.5784, -73.5551)
  line L2 (75, -50) -> (93.5784, -26.4449)
  line L3 (56.4216, -26.0914) -> (75, -50)
extrude "Extrude2" [suppressed]
fillet "Fillet1" [suppressed]
fillet "Fillet2" [suppressed]
equation "d15 = 0.75"
equation "d16 = d15"
equation "d17 = d15"
equation "d18 = d15"
equation "d19 = d15"
